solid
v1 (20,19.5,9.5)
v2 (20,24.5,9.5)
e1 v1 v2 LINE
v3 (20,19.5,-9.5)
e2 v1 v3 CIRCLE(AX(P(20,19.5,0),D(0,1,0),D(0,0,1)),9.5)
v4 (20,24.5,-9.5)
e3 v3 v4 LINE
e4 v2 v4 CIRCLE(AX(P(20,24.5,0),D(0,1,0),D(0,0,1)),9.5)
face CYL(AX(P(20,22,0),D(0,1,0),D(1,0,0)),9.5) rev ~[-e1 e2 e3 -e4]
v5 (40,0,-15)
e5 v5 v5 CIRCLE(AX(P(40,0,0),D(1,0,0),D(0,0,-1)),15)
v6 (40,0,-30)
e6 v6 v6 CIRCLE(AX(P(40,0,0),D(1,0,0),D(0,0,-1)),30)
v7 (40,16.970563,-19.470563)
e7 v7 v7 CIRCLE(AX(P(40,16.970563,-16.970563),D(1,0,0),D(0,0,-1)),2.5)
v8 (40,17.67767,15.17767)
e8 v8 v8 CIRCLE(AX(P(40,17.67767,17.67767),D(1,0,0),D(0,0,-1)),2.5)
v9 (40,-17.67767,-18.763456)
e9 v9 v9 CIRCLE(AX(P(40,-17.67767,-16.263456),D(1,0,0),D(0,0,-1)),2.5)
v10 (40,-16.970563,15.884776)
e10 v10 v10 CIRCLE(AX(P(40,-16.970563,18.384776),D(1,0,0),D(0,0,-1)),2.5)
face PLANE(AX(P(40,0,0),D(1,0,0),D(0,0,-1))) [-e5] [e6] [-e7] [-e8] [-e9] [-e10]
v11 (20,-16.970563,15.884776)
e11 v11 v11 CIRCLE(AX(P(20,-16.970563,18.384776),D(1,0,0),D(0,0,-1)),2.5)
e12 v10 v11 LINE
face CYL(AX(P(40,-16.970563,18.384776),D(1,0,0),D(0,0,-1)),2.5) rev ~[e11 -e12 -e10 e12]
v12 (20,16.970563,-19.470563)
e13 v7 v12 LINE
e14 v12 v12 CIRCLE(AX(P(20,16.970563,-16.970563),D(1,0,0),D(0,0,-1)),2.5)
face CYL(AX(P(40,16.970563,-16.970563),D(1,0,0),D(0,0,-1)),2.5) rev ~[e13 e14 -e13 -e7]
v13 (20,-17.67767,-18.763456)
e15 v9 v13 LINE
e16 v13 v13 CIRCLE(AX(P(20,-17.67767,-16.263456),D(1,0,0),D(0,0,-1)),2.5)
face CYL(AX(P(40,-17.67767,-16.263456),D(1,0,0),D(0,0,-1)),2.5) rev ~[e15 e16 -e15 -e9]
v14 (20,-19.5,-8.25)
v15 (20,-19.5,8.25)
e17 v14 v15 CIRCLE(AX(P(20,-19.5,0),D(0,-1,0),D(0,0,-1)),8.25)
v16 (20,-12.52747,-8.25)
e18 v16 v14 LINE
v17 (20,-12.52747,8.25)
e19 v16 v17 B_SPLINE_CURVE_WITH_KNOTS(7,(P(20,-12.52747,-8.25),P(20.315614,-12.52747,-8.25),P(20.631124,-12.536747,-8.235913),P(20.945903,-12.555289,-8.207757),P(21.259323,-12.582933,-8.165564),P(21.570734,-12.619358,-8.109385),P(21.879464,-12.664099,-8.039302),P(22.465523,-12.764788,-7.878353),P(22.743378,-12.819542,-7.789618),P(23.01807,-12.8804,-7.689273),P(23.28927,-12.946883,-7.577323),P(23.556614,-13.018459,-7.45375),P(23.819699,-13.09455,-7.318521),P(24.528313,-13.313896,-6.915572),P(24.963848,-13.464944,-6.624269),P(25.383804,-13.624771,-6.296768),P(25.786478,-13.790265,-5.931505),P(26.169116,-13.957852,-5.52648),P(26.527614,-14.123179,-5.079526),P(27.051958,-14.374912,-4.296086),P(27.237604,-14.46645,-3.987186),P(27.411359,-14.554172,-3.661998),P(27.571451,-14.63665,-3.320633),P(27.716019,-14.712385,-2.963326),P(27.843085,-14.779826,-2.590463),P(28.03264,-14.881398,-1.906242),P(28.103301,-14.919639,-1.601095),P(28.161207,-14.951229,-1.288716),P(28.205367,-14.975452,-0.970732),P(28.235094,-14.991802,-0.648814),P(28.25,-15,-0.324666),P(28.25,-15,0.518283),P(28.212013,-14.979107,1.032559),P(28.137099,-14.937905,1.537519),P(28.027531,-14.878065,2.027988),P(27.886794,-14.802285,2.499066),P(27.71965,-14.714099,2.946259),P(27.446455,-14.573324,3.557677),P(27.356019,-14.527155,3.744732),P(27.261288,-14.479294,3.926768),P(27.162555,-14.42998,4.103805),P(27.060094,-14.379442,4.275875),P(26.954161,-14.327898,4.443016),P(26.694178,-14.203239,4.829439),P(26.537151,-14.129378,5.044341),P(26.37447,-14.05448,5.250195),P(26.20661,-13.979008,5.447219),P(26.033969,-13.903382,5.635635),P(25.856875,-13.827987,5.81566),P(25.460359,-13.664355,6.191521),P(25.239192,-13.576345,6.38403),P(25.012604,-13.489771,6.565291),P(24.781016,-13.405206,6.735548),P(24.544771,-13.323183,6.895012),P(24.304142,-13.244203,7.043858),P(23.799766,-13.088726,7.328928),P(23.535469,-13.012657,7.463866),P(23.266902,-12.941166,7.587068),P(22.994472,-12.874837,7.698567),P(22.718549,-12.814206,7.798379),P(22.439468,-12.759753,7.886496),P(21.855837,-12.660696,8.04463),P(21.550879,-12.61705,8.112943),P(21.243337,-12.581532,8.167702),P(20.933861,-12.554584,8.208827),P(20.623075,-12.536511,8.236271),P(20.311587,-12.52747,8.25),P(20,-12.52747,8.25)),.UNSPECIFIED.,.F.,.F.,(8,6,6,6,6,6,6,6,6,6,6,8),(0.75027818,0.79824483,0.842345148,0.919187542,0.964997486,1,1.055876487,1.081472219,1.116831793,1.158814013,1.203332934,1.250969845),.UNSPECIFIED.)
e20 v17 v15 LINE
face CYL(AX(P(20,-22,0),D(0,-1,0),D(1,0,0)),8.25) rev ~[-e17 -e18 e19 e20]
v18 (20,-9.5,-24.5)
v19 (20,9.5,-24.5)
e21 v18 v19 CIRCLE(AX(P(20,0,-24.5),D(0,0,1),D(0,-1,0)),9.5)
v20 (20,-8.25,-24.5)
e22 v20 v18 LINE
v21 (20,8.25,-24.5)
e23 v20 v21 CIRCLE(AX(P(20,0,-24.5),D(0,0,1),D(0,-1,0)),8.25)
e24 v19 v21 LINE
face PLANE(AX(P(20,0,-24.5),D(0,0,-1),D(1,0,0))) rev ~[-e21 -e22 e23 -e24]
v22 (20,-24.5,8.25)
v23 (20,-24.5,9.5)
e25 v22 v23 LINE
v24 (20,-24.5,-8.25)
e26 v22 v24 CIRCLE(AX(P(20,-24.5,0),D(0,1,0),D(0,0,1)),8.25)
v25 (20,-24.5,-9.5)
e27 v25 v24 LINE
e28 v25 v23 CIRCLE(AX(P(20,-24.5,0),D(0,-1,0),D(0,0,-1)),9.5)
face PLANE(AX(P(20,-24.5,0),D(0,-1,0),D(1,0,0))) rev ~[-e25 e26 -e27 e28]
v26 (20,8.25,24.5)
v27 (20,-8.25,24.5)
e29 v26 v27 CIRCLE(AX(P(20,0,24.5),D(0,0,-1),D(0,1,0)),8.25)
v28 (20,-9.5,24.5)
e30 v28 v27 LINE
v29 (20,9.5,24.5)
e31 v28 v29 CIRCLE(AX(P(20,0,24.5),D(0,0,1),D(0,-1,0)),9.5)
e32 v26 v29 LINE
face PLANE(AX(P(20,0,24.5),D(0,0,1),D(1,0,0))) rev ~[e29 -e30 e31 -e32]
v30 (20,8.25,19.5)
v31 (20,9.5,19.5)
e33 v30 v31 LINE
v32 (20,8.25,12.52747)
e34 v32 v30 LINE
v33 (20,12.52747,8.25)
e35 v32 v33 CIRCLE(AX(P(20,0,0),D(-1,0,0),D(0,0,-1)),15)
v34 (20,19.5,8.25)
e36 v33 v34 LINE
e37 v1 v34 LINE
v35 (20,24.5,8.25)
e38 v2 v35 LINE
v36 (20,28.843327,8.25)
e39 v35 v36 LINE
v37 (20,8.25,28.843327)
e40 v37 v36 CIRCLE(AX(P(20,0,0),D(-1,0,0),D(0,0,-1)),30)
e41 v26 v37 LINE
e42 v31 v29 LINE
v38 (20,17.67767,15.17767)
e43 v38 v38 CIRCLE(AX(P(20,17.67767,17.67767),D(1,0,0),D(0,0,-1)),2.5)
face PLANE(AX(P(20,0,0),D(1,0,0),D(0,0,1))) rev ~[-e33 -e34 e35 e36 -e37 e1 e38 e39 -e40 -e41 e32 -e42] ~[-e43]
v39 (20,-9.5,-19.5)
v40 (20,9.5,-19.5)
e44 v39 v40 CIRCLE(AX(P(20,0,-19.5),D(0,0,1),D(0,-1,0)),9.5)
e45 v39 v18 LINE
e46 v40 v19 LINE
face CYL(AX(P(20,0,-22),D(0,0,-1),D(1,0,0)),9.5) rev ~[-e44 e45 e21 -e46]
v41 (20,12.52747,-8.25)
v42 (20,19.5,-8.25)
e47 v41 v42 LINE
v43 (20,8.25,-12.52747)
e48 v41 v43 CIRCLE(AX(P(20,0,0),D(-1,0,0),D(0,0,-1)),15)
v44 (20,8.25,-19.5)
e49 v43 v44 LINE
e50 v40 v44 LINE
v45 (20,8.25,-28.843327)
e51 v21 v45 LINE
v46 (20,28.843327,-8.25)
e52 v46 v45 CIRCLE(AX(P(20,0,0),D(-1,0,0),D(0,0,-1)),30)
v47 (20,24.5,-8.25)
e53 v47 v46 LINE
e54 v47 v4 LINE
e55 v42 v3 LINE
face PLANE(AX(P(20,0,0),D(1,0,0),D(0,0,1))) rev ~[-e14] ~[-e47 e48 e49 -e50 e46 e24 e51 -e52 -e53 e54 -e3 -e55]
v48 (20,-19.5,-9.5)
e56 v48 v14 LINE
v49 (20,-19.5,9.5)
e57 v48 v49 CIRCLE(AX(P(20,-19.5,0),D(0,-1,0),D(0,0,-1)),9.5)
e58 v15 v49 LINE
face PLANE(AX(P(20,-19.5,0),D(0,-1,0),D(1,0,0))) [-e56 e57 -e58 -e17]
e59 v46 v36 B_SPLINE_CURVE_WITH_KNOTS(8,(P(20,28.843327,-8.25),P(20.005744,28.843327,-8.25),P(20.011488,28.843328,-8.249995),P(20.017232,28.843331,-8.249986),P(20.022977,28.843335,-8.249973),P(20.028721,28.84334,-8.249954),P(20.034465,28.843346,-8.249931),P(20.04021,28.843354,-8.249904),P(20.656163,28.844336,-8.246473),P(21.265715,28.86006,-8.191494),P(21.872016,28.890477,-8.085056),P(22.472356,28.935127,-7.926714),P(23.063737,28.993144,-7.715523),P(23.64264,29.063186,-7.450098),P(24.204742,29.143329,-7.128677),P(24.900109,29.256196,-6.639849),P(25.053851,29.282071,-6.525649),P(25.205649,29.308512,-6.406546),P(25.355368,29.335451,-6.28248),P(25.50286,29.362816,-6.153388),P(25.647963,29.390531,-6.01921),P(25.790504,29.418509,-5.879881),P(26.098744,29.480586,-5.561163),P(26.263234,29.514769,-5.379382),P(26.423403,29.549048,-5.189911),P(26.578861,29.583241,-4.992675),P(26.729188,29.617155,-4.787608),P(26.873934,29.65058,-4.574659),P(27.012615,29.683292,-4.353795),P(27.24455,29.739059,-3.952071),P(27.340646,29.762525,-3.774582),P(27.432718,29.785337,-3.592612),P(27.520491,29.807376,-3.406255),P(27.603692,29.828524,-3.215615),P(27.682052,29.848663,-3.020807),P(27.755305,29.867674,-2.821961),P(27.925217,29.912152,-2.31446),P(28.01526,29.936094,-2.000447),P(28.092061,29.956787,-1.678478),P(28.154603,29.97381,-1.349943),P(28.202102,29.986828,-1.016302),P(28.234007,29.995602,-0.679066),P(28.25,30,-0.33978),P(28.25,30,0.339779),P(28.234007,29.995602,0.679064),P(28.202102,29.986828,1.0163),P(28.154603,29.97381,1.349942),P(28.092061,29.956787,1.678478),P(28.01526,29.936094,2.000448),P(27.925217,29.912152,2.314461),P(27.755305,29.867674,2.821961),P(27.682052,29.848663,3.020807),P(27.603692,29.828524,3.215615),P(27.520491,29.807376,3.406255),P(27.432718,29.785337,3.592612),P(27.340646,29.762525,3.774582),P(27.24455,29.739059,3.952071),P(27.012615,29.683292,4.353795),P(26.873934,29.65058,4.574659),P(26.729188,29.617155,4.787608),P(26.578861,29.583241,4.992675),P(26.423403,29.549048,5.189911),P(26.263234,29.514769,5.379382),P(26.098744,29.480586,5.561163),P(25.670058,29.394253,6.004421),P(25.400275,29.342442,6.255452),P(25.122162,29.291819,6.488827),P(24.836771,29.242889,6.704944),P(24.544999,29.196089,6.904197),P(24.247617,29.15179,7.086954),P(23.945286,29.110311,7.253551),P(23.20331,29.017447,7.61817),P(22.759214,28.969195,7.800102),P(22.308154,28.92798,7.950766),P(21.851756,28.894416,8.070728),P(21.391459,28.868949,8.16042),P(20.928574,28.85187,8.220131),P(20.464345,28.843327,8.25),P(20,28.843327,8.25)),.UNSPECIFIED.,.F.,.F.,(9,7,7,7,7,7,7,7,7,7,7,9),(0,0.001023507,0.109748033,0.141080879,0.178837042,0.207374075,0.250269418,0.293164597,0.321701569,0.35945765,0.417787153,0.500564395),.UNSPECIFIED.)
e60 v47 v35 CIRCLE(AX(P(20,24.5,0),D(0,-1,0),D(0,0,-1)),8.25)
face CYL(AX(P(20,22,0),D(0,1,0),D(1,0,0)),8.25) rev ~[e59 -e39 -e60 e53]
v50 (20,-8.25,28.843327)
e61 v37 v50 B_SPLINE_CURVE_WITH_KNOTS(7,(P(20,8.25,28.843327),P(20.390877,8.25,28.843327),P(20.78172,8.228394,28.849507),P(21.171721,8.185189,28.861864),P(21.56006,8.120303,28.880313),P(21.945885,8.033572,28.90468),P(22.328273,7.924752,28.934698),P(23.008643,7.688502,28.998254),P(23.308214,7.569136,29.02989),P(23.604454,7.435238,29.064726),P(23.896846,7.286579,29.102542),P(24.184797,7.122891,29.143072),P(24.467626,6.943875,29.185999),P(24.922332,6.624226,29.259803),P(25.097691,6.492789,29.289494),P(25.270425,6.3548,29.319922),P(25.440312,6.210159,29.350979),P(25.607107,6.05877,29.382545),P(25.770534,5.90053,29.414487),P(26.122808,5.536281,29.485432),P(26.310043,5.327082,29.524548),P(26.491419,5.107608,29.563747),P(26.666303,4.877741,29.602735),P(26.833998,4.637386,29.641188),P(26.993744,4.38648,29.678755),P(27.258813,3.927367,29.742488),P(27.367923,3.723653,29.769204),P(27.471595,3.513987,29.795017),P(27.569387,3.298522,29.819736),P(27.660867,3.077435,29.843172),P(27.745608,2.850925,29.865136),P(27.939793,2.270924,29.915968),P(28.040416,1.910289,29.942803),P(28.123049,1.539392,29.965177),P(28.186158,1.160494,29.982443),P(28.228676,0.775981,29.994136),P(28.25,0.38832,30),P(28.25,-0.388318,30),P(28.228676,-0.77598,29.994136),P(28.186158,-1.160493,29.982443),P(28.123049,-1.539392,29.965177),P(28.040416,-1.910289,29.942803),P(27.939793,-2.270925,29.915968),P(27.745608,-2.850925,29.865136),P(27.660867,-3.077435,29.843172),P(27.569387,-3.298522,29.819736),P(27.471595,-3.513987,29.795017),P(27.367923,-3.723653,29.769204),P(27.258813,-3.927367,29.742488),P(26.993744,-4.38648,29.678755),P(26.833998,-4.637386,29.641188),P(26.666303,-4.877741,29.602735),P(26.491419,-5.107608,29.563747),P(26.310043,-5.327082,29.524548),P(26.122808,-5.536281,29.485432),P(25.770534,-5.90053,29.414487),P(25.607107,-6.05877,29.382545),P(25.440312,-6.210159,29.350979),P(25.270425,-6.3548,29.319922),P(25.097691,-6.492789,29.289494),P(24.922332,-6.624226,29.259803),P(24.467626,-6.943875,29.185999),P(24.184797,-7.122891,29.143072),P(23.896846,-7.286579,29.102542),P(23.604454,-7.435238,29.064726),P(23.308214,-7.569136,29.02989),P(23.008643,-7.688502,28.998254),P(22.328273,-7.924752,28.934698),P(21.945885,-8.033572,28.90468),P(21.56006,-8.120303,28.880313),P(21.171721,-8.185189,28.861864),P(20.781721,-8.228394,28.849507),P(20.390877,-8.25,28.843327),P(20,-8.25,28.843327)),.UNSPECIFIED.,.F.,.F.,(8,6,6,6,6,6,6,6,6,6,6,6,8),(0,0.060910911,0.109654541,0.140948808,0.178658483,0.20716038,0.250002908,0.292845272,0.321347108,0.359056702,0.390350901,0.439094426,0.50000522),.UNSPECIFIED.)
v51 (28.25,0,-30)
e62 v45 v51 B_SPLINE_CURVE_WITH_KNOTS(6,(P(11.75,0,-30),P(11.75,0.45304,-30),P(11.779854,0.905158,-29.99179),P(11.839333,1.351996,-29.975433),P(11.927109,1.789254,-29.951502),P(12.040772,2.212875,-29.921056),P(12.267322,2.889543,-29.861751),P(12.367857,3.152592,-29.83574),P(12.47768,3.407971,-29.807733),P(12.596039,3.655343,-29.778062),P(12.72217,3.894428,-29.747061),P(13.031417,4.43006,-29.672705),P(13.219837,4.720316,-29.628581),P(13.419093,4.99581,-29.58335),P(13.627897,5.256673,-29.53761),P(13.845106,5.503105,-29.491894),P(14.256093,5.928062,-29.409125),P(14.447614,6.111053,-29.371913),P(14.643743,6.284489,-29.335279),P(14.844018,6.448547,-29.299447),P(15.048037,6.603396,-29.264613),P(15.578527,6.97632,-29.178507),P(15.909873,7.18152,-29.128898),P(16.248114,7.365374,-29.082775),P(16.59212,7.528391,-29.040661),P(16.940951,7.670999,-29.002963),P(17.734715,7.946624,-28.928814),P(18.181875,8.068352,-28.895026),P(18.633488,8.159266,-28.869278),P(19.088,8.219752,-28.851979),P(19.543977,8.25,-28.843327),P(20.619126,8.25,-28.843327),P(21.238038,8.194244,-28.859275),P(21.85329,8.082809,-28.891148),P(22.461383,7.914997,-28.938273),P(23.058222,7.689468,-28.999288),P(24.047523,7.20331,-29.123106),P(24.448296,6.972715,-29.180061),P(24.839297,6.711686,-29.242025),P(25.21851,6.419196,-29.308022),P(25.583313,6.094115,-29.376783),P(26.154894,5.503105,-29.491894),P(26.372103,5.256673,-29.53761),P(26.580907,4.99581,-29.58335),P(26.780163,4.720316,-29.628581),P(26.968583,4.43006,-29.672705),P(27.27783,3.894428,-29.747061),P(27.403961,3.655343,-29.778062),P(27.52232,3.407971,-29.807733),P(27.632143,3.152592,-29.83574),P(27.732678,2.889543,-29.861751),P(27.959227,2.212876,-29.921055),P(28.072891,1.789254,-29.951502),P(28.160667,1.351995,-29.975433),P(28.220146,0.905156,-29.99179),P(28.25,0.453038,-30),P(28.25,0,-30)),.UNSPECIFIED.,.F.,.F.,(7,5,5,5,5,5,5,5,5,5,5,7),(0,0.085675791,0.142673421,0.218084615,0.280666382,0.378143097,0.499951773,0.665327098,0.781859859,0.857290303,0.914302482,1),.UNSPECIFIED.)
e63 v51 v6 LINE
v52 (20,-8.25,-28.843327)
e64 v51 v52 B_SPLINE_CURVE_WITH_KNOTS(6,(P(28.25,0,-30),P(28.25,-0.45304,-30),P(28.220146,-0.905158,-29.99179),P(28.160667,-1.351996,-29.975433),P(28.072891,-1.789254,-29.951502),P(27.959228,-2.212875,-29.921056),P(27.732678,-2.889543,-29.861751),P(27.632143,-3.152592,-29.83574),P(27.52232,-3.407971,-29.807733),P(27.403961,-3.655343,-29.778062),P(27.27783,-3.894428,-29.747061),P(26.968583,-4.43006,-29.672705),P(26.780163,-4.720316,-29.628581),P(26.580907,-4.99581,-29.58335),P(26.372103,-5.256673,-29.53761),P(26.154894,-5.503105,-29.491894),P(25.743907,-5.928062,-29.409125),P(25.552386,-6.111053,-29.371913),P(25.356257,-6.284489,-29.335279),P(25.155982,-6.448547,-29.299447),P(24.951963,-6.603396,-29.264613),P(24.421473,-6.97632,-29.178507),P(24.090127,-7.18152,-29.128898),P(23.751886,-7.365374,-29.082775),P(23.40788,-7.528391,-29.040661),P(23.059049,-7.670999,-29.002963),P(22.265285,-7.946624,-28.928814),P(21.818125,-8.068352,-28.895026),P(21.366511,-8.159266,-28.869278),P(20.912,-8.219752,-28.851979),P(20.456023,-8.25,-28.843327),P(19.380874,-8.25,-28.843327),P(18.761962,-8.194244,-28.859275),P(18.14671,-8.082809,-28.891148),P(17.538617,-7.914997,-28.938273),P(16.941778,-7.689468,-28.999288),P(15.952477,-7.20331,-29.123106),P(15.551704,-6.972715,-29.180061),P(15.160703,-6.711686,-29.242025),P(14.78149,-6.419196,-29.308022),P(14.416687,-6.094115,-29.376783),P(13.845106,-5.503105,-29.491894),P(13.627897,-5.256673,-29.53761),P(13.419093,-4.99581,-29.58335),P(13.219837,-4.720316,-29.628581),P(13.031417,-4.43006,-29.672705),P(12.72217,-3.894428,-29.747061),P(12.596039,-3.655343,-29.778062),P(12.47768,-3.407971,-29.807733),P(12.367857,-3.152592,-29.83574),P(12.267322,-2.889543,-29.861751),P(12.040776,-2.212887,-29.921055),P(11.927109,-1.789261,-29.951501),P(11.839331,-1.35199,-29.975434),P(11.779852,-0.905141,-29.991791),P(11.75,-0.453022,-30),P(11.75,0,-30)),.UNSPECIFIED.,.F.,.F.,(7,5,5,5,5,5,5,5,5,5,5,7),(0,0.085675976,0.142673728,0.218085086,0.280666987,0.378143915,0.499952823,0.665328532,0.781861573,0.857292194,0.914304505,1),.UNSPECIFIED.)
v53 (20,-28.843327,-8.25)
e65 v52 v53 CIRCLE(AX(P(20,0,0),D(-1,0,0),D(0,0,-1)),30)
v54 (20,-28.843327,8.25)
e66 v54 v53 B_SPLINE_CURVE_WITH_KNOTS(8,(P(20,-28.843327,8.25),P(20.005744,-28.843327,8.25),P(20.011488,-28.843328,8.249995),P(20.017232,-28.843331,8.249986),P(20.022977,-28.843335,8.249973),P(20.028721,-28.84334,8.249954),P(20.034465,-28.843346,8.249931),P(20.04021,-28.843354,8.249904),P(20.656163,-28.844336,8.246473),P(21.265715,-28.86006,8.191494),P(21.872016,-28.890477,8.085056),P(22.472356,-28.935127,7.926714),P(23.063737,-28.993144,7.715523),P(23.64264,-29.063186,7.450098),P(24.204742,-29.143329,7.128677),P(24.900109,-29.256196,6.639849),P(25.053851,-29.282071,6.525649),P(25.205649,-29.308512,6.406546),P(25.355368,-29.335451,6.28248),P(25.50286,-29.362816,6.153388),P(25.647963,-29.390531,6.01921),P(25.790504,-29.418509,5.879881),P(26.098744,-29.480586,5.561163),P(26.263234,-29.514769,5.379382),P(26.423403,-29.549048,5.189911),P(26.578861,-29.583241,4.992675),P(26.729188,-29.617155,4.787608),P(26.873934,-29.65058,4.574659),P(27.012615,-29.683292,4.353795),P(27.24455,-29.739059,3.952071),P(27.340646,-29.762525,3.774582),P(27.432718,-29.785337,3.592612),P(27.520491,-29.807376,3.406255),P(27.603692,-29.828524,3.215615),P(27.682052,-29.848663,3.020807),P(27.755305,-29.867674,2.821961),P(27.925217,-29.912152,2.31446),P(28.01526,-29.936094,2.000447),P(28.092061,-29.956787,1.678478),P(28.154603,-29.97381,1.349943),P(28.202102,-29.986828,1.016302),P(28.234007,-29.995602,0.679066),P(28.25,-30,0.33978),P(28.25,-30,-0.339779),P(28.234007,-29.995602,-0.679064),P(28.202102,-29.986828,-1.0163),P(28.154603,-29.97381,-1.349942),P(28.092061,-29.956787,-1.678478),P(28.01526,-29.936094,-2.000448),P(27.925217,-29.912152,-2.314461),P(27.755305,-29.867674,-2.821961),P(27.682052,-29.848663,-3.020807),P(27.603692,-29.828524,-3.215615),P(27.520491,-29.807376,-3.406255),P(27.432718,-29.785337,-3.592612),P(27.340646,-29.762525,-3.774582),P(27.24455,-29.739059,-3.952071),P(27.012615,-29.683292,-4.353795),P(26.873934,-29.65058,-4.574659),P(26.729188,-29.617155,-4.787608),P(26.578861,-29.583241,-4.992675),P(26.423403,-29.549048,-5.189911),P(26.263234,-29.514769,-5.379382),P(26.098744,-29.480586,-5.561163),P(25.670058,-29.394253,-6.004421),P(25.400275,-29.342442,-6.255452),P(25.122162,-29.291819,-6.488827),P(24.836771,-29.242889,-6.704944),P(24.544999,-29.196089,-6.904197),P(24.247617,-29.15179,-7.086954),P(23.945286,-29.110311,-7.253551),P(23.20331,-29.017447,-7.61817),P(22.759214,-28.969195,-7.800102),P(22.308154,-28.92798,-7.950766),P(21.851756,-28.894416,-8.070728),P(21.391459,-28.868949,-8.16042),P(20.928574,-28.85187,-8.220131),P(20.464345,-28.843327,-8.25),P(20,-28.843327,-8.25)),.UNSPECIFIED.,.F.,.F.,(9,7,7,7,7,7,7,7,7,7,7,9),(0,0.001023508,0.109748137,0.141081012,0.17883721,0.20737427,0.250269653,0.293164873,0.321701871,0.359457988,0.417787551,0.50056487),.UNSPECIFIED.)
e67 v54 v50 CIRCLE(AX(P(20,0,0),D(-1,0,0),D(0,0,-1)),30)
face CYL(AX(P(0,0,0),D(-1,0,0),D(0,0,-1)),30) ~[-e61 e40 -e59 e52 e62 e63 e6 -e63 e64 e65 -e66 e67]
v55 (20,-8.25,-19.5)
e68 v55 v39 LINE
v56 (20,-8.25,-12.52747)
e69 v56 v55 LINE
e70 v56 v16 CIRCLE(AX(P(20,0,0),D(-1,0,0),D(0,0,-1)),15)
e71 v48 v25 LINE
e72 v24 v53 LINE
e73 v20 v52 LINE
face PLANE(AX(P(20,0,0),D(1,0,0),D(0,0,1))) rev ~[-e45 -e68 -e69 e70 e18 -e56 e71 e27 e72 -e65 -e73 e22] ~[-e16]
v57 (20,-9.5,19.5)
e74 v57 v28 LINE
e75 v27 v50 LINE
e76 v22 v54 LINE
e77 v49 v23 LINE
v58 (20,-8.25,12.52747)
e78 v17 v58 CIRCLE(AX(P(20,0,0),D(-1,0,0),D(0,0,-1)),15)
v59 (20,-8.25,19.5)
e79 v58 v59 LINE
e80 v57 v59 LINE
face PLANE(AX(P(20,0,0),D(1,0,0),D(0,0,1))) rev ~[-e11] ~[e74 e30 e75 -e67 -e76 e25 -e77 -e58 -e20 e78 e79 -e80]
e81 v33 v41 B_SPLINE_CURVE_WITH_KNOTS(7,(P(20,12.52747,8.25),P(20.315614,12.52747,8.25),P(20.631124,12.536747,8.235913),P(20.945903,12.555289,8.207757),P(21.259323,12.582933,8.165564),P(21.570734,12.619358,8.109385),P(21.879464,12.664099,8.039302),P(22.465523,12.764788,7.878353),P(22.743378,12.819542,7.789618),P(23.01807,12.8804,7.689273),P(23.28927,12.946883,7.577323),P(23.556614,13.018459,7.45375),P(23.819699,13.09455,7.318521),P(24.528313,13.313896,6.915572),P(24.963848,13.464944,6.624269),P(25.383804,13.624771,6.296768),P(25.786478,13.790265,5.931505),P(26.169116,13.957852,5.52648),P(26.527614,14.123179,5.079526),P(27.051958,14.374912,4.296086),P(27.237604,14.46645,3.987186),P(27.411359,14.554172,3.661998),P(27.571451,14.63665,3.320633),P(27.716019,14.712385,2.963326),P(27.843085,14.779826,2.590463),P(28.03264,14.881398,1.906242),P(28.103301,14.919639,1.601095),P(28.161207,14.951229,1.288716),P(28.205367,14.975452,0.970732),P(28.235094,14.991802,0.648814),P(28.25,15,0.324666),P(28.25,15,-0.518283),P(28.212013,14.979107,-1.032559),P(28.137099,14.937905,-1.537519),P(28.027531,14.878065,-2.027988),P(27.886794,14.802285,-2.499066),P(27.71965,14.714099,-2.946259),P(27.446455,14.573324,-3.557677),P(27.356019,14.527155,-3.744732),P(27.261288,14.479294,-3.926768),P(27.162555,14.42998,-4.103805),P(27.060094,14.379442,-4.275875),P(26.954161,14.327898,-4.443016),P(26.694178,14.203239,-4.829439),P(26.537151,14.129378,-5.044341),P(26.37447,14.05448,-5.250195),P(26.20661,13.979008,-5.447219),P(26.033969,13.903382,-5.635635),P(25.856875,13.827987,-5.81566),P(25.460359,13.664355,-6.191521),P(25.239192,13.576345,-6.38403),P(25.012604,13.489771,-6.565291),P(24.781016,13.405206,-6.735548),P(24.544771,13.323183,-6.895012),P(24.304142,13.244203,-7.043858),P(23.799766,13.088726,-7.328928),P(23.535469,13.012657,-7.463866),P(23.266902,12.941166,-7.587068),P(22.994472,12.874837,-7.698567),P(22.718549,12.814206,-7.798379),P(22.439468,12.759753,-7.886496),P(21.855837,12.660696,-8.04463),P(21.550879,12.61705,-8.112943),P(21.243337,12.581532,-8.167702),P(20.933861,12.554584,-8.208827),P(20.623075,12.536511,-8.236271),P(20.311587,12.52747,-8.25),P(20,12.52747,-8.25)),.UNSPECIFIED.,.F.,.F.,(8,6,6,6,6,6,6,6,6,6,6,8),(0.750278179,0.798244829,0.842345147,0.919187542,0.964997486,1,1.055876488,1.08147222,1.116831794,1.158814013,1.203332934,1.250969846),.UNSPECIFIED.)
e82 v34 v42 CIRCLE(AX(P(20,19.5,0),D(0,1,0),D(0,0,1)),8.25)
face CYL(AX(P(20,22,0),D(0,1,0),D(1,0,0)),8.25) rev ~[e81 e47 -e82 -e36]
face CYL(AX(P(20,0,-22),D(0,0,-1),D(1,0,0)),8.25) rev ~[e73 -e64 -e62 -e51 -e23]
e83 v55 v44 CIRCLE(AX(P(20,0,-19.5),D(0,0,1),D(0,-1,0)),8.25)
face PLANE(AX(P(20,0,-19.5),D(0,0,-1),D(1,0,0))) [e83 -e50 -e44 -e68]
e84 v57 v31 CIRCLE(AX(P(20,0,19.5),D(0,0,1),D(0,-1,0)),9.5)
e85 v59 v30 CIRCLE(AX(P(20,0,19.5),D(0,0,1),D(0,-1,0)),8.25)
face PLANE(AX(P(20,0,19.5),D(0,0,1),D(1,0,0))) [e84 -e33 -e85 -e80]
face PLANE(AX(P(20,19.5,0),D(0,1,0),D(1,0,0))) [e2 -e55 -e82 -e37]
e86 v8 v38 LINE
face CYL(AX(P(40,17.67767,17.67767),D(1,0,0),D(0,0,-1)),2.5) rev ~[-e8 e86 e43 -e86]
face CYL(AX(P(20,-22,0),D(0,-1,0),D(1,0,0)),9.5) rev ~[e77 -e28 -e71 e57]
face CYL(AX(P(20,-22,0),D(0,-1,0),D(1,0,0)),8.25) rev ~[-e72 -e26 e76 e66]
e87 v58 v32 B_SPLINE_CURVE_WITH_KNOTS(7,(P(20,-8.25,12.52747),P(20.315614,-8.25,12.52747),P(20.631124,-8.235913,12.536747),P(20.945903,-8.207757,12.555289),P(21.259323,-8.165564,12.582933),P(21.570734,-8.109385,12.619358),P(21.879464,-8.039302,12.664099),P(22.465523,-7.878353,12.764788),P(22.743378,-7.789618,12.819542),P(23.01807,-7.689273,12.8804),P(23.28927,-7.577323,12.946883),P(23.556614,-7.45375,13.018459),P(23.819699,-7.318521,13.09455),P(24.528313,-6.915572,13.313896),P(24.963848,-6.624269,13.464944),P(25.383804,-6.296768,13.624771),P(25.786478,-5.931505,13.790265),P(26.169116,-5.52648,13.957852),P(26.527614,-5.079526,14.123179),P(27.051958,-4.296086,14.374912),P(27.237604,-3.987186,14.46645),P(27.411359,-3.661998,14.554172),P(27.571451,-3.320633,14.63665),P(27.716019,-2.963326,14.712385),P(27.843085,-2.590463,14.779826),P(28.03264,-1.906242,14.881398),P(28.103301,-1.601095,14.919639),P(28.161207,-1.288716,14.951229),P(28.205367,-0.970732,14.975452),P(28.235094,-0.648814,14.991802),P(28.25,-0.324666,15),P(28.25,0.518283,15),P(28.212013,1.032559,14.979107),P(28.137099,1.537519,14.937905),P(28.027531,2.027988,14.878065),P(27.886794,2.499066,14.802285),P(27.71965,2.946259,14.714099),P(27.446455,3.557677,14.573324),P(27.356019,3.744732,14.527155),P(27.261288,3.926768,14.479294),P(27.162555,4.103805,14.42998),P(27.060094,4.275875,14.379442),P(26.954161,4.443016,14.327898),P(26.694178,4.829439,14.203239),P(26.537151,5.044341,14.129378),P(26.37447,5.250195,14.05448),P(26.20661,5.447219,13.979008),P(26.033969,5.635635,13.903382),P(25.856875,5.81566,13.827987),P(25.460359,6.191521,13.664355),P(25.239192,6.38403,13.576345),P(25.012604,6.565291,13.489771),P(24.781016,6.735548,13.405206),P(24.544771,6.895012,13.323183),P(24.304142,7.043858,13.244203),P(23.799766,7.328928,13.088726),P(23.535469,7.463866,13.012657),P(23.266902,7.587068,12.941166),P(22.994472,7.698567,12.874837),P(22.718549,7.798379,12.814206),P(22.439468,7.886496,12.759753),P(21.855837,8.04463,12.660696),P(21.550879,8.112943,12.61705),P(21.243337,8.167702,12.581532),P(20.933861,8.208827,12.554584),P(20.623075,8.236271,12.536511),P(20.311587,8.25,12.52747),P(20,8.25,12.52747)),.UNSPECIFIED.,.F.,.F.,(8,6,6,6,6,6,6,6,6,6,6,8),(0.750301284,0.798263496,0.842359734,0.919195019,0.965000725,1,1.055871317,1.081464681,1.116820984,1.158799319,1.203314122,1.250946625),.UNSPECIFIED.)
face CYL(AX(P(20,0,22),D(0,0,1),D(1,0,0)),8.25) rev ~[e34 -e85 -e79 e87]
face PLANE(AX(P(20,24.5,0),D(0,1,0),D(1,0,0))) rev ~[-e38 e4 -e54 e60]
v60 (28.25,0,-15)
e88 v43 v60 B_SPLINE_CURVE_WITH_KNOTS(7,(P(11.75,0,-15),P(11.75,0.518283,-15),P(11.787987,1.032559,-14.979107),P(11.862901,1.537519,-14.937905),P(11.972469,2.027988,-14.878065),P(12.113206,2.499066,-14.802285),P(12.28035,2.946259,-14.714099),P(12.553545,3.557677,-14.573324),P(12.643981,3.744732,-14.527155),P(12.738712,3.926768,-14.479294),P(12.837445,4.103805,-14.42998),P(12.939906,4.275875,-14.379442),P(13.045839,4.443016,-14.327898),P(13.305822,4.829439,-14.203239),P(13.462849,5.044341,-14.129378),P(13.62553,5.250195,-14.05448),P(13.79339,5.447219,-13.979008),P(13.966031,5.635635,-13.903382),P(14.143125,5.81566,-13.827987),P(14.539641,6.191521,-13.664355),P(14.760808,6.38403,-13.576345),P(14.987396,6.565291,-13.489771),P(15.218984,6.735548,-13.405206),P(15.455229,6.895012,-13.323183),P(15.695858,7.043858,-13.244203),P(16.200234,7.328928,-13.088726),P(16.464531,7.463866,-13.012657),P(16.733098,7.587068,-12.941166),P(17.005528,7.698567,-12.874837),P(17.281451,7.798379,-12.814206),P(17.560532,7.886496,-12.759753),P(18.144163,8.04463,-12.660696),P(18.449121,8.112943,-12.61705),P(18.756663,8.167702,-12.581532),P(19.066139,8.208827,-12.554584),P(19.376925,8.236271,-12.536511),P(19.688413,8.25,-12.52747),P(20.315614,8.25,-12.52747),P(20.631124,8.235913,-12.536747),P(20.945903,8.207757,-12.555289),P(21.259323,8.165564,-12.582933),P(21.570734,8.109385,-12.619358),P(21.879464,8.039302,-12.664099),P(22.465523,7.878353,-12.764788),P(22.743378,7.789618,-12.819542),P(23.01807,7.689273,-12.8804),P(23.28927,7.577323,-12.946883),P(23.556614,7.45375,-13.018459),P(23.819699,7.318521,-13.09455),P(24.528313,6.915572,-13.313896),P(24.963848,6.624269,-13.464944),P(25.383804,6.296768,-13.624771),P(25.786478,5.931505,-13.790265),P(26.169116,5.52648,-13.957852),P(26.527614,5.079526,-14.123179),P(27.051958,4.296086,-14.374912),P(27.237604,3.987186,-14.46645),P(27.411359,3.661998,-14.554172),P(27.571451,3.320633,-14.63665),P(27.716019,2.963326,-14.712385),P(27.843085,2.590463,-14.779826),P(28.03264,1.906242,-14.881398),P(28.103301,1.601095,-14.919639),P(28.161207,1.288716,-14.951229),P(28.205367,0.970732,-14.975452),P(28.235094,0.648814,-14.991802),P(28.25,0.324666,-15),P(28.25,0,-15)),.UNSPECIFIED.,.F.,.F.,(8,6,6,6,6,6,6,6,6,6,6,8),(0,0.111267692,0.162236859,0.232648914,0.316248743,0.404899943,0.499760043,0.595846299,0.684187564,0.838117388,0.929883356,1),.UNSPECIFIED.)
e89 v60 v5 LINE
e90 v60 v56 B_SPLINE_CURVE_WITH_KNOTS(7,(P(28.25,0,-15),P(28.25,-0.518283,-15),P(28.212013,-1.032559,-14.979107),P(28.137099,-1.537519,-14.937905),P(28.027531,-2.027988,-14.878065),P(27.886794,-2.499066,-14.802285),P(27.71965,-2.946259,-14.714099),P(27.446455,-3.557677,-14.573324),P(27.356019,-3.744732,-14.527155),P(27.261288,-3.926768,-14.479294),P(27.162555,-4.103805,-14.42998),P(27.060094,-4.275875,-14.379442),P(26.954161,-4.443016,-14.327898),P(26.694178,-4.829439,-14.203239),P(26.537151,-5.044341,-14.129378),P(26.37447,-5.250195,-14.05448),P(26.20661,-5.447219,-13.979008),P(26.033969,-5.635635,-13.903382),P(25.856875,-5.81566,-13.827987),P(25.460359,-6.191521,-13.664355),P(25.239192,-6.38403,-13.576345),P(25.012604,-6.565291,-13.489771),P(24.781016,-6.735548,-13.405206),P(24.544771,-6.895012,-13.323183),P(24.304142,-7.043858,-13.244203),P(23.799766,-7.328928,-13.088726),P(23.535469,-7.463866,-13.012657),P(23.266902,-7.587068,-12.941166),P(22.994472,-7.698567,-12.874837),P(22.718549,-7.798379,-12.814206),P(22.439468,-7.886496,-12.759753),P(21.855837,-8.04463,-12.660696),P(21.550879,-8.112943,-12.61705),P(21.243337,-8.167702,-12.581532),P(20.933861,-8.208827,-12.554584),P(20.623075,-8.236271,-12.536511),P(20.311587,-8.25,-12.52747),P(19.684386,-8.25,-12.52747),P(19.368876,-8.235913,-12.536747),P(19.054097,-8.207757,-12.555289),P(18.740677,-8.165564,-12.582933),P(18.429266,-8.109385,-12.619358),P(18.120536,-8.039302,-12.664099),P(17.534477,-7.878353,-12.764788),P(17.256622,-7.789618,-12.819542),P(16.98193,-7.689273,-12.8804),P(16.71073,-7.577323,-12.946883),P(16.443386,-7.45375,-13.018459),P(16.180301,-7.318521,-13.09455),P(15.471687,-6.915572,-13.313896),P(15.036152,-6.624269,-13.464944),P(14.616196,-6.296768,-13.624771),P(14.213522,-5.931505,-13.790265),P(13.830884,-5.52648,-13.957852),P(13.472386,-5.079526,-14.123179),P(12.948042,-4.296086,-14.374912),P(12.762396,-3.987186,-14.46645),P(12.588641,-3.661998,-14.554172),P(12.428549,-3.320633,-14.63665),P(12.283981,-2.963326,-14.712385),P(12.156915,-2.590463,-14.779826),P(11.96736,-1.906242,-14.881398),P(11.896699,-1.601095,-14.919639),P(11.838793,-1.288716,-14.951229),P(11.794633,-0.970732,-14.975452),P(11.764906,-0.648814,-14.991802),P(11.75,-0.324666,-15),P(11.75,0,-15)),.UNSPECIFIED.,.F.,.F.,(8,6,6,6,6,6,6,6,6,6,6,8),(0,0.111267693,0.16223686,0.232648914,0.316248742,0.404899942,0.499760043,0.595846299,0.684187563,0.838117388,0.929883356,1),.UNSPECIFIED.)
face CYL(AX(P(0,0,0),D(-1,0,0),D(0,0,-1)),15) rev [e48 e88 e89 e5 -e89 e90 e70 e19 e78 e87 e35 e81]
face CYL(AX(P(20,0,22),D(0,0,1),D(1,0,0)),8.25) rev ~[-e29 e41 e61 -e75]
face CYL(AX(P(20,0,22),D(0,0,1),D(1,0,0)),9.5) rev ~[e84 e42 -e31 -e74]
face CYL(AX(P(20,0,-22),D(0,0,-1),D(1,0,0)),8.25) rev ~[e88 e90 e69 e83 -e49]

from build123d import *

# Parameters (mm, degrees)
SKETCH1_R           = 30
SKETCH1_R_2         = 15
BOSS_EXTRUDE1_DEPTH = 40
SKETCH2_R           = 9.5
CUT_EXTRUDE1_DEPTH  = 2.5
SKETCH3_R           = 8.25
CUT_EXTRUDE2_DEPTH  = 15
CIRPATTERN1_COUNT   = 4
SKETCH4_R           = 2.5
CUT_EXTRUDE3_DEPTH  = 47.904157769


with BuildPart() as part:
    # Sketch1 → Boss-Extrude1 (new body)
    with BuildSketch(Plane(origin=(0, 0, 0), x_dir=(0, 0, -1), z_dir=(1, 0, 0))):
        Circle(SKETCH1_R)
        Circle(SKETCH1_R_2, mode=Mode.SUBTRACT)
    extrude(amount=BOSS_EXTRUDE1_DEPTH)

    # Sketch2 → Cut-Extrude1 (cut, symmetric)
    with BuildSketch(Plane.XY.offset(22)):
        with Locations((20, 0)):
            Circle(SKETCH2_R)
    cut_extrude1 = extrude(amount=CUT_EXTRUDE1_DEPTH, both=True, mode=Mode.SUBTRACT)

    # Sketch3 → Cut-Extrude2 (cut, symmetric)
    with BuildSketch(Plane.XY.offset(22)):
        with Locations((20, 0)):
            Circle(SKETCH3_R)
    cut_extrude2 = extrude(amount=CUT_EXTRUDE2_DEPTH, both=True, mode=Mode.SUBTRACT)

    # CirPattern1: Cut-Extrude1, Cut-Extrude2 ×4 about axis
    cirpattern1_axis = Axis((40, 0, 0), (1, 0, 0))
    add([cut_extrude1.rotate(cirpattern1_axis, i * 360 / CIRPATTERN1_COUNT) for i in range(1, CIRPATTERN1_COUNT)], mode=Mode.SUBTRACT)
    add([cut_extrude2.rotate(cirpattern1_axis, i * 360 / CIRPATTERN1_COUNT) for i in range(1, CIRPATTERN1_COUNT)], mode=Mode.SUBTRACT)


with BuildPart() as body_2:
    # Split2: the piece on the far side of the plane
    add(part.part)
    split(bisect_by=Plane(origin=(20, 0, 0), x_dir=(0, 0, 1), z_dir=(1, 0, 0)), keep=Keep.BOTTOM)


with BuildPart() as part_1:
    add(part.part)

    # Split2
    split(bisect_by=Plane(origin=(20, 0, 0), x_dir=(0, 0, 1), z_dir=(1, 0, 0)), keep=Keep.TOP)

    # Sketch4 → Cut-Extrude3 (cut, through all)
    with BuildSketch(Plane(origin=(40, 0, 0), x_dir=(0, 0, -1), z_dir=(1, 0, 0))):
        with Locations((-17.67766953, 17.67766953)):
            Circle(SKETCH4_R)
        with Locations((16.970562748, 16.970562748)):
            Circle(SKETCH4_R)
        with Locations((16.263455967, -17.67766953)):
            Circle(SKETCH4_R)
        with Locations((-18.384776311, -16.970562748)):
            Circle(SKETCH4_R)
    extrude(amount=-CUT_EXTRUDE3_DEPTH, mode=Mode.SUBTRACT)


solid = part_1.part
